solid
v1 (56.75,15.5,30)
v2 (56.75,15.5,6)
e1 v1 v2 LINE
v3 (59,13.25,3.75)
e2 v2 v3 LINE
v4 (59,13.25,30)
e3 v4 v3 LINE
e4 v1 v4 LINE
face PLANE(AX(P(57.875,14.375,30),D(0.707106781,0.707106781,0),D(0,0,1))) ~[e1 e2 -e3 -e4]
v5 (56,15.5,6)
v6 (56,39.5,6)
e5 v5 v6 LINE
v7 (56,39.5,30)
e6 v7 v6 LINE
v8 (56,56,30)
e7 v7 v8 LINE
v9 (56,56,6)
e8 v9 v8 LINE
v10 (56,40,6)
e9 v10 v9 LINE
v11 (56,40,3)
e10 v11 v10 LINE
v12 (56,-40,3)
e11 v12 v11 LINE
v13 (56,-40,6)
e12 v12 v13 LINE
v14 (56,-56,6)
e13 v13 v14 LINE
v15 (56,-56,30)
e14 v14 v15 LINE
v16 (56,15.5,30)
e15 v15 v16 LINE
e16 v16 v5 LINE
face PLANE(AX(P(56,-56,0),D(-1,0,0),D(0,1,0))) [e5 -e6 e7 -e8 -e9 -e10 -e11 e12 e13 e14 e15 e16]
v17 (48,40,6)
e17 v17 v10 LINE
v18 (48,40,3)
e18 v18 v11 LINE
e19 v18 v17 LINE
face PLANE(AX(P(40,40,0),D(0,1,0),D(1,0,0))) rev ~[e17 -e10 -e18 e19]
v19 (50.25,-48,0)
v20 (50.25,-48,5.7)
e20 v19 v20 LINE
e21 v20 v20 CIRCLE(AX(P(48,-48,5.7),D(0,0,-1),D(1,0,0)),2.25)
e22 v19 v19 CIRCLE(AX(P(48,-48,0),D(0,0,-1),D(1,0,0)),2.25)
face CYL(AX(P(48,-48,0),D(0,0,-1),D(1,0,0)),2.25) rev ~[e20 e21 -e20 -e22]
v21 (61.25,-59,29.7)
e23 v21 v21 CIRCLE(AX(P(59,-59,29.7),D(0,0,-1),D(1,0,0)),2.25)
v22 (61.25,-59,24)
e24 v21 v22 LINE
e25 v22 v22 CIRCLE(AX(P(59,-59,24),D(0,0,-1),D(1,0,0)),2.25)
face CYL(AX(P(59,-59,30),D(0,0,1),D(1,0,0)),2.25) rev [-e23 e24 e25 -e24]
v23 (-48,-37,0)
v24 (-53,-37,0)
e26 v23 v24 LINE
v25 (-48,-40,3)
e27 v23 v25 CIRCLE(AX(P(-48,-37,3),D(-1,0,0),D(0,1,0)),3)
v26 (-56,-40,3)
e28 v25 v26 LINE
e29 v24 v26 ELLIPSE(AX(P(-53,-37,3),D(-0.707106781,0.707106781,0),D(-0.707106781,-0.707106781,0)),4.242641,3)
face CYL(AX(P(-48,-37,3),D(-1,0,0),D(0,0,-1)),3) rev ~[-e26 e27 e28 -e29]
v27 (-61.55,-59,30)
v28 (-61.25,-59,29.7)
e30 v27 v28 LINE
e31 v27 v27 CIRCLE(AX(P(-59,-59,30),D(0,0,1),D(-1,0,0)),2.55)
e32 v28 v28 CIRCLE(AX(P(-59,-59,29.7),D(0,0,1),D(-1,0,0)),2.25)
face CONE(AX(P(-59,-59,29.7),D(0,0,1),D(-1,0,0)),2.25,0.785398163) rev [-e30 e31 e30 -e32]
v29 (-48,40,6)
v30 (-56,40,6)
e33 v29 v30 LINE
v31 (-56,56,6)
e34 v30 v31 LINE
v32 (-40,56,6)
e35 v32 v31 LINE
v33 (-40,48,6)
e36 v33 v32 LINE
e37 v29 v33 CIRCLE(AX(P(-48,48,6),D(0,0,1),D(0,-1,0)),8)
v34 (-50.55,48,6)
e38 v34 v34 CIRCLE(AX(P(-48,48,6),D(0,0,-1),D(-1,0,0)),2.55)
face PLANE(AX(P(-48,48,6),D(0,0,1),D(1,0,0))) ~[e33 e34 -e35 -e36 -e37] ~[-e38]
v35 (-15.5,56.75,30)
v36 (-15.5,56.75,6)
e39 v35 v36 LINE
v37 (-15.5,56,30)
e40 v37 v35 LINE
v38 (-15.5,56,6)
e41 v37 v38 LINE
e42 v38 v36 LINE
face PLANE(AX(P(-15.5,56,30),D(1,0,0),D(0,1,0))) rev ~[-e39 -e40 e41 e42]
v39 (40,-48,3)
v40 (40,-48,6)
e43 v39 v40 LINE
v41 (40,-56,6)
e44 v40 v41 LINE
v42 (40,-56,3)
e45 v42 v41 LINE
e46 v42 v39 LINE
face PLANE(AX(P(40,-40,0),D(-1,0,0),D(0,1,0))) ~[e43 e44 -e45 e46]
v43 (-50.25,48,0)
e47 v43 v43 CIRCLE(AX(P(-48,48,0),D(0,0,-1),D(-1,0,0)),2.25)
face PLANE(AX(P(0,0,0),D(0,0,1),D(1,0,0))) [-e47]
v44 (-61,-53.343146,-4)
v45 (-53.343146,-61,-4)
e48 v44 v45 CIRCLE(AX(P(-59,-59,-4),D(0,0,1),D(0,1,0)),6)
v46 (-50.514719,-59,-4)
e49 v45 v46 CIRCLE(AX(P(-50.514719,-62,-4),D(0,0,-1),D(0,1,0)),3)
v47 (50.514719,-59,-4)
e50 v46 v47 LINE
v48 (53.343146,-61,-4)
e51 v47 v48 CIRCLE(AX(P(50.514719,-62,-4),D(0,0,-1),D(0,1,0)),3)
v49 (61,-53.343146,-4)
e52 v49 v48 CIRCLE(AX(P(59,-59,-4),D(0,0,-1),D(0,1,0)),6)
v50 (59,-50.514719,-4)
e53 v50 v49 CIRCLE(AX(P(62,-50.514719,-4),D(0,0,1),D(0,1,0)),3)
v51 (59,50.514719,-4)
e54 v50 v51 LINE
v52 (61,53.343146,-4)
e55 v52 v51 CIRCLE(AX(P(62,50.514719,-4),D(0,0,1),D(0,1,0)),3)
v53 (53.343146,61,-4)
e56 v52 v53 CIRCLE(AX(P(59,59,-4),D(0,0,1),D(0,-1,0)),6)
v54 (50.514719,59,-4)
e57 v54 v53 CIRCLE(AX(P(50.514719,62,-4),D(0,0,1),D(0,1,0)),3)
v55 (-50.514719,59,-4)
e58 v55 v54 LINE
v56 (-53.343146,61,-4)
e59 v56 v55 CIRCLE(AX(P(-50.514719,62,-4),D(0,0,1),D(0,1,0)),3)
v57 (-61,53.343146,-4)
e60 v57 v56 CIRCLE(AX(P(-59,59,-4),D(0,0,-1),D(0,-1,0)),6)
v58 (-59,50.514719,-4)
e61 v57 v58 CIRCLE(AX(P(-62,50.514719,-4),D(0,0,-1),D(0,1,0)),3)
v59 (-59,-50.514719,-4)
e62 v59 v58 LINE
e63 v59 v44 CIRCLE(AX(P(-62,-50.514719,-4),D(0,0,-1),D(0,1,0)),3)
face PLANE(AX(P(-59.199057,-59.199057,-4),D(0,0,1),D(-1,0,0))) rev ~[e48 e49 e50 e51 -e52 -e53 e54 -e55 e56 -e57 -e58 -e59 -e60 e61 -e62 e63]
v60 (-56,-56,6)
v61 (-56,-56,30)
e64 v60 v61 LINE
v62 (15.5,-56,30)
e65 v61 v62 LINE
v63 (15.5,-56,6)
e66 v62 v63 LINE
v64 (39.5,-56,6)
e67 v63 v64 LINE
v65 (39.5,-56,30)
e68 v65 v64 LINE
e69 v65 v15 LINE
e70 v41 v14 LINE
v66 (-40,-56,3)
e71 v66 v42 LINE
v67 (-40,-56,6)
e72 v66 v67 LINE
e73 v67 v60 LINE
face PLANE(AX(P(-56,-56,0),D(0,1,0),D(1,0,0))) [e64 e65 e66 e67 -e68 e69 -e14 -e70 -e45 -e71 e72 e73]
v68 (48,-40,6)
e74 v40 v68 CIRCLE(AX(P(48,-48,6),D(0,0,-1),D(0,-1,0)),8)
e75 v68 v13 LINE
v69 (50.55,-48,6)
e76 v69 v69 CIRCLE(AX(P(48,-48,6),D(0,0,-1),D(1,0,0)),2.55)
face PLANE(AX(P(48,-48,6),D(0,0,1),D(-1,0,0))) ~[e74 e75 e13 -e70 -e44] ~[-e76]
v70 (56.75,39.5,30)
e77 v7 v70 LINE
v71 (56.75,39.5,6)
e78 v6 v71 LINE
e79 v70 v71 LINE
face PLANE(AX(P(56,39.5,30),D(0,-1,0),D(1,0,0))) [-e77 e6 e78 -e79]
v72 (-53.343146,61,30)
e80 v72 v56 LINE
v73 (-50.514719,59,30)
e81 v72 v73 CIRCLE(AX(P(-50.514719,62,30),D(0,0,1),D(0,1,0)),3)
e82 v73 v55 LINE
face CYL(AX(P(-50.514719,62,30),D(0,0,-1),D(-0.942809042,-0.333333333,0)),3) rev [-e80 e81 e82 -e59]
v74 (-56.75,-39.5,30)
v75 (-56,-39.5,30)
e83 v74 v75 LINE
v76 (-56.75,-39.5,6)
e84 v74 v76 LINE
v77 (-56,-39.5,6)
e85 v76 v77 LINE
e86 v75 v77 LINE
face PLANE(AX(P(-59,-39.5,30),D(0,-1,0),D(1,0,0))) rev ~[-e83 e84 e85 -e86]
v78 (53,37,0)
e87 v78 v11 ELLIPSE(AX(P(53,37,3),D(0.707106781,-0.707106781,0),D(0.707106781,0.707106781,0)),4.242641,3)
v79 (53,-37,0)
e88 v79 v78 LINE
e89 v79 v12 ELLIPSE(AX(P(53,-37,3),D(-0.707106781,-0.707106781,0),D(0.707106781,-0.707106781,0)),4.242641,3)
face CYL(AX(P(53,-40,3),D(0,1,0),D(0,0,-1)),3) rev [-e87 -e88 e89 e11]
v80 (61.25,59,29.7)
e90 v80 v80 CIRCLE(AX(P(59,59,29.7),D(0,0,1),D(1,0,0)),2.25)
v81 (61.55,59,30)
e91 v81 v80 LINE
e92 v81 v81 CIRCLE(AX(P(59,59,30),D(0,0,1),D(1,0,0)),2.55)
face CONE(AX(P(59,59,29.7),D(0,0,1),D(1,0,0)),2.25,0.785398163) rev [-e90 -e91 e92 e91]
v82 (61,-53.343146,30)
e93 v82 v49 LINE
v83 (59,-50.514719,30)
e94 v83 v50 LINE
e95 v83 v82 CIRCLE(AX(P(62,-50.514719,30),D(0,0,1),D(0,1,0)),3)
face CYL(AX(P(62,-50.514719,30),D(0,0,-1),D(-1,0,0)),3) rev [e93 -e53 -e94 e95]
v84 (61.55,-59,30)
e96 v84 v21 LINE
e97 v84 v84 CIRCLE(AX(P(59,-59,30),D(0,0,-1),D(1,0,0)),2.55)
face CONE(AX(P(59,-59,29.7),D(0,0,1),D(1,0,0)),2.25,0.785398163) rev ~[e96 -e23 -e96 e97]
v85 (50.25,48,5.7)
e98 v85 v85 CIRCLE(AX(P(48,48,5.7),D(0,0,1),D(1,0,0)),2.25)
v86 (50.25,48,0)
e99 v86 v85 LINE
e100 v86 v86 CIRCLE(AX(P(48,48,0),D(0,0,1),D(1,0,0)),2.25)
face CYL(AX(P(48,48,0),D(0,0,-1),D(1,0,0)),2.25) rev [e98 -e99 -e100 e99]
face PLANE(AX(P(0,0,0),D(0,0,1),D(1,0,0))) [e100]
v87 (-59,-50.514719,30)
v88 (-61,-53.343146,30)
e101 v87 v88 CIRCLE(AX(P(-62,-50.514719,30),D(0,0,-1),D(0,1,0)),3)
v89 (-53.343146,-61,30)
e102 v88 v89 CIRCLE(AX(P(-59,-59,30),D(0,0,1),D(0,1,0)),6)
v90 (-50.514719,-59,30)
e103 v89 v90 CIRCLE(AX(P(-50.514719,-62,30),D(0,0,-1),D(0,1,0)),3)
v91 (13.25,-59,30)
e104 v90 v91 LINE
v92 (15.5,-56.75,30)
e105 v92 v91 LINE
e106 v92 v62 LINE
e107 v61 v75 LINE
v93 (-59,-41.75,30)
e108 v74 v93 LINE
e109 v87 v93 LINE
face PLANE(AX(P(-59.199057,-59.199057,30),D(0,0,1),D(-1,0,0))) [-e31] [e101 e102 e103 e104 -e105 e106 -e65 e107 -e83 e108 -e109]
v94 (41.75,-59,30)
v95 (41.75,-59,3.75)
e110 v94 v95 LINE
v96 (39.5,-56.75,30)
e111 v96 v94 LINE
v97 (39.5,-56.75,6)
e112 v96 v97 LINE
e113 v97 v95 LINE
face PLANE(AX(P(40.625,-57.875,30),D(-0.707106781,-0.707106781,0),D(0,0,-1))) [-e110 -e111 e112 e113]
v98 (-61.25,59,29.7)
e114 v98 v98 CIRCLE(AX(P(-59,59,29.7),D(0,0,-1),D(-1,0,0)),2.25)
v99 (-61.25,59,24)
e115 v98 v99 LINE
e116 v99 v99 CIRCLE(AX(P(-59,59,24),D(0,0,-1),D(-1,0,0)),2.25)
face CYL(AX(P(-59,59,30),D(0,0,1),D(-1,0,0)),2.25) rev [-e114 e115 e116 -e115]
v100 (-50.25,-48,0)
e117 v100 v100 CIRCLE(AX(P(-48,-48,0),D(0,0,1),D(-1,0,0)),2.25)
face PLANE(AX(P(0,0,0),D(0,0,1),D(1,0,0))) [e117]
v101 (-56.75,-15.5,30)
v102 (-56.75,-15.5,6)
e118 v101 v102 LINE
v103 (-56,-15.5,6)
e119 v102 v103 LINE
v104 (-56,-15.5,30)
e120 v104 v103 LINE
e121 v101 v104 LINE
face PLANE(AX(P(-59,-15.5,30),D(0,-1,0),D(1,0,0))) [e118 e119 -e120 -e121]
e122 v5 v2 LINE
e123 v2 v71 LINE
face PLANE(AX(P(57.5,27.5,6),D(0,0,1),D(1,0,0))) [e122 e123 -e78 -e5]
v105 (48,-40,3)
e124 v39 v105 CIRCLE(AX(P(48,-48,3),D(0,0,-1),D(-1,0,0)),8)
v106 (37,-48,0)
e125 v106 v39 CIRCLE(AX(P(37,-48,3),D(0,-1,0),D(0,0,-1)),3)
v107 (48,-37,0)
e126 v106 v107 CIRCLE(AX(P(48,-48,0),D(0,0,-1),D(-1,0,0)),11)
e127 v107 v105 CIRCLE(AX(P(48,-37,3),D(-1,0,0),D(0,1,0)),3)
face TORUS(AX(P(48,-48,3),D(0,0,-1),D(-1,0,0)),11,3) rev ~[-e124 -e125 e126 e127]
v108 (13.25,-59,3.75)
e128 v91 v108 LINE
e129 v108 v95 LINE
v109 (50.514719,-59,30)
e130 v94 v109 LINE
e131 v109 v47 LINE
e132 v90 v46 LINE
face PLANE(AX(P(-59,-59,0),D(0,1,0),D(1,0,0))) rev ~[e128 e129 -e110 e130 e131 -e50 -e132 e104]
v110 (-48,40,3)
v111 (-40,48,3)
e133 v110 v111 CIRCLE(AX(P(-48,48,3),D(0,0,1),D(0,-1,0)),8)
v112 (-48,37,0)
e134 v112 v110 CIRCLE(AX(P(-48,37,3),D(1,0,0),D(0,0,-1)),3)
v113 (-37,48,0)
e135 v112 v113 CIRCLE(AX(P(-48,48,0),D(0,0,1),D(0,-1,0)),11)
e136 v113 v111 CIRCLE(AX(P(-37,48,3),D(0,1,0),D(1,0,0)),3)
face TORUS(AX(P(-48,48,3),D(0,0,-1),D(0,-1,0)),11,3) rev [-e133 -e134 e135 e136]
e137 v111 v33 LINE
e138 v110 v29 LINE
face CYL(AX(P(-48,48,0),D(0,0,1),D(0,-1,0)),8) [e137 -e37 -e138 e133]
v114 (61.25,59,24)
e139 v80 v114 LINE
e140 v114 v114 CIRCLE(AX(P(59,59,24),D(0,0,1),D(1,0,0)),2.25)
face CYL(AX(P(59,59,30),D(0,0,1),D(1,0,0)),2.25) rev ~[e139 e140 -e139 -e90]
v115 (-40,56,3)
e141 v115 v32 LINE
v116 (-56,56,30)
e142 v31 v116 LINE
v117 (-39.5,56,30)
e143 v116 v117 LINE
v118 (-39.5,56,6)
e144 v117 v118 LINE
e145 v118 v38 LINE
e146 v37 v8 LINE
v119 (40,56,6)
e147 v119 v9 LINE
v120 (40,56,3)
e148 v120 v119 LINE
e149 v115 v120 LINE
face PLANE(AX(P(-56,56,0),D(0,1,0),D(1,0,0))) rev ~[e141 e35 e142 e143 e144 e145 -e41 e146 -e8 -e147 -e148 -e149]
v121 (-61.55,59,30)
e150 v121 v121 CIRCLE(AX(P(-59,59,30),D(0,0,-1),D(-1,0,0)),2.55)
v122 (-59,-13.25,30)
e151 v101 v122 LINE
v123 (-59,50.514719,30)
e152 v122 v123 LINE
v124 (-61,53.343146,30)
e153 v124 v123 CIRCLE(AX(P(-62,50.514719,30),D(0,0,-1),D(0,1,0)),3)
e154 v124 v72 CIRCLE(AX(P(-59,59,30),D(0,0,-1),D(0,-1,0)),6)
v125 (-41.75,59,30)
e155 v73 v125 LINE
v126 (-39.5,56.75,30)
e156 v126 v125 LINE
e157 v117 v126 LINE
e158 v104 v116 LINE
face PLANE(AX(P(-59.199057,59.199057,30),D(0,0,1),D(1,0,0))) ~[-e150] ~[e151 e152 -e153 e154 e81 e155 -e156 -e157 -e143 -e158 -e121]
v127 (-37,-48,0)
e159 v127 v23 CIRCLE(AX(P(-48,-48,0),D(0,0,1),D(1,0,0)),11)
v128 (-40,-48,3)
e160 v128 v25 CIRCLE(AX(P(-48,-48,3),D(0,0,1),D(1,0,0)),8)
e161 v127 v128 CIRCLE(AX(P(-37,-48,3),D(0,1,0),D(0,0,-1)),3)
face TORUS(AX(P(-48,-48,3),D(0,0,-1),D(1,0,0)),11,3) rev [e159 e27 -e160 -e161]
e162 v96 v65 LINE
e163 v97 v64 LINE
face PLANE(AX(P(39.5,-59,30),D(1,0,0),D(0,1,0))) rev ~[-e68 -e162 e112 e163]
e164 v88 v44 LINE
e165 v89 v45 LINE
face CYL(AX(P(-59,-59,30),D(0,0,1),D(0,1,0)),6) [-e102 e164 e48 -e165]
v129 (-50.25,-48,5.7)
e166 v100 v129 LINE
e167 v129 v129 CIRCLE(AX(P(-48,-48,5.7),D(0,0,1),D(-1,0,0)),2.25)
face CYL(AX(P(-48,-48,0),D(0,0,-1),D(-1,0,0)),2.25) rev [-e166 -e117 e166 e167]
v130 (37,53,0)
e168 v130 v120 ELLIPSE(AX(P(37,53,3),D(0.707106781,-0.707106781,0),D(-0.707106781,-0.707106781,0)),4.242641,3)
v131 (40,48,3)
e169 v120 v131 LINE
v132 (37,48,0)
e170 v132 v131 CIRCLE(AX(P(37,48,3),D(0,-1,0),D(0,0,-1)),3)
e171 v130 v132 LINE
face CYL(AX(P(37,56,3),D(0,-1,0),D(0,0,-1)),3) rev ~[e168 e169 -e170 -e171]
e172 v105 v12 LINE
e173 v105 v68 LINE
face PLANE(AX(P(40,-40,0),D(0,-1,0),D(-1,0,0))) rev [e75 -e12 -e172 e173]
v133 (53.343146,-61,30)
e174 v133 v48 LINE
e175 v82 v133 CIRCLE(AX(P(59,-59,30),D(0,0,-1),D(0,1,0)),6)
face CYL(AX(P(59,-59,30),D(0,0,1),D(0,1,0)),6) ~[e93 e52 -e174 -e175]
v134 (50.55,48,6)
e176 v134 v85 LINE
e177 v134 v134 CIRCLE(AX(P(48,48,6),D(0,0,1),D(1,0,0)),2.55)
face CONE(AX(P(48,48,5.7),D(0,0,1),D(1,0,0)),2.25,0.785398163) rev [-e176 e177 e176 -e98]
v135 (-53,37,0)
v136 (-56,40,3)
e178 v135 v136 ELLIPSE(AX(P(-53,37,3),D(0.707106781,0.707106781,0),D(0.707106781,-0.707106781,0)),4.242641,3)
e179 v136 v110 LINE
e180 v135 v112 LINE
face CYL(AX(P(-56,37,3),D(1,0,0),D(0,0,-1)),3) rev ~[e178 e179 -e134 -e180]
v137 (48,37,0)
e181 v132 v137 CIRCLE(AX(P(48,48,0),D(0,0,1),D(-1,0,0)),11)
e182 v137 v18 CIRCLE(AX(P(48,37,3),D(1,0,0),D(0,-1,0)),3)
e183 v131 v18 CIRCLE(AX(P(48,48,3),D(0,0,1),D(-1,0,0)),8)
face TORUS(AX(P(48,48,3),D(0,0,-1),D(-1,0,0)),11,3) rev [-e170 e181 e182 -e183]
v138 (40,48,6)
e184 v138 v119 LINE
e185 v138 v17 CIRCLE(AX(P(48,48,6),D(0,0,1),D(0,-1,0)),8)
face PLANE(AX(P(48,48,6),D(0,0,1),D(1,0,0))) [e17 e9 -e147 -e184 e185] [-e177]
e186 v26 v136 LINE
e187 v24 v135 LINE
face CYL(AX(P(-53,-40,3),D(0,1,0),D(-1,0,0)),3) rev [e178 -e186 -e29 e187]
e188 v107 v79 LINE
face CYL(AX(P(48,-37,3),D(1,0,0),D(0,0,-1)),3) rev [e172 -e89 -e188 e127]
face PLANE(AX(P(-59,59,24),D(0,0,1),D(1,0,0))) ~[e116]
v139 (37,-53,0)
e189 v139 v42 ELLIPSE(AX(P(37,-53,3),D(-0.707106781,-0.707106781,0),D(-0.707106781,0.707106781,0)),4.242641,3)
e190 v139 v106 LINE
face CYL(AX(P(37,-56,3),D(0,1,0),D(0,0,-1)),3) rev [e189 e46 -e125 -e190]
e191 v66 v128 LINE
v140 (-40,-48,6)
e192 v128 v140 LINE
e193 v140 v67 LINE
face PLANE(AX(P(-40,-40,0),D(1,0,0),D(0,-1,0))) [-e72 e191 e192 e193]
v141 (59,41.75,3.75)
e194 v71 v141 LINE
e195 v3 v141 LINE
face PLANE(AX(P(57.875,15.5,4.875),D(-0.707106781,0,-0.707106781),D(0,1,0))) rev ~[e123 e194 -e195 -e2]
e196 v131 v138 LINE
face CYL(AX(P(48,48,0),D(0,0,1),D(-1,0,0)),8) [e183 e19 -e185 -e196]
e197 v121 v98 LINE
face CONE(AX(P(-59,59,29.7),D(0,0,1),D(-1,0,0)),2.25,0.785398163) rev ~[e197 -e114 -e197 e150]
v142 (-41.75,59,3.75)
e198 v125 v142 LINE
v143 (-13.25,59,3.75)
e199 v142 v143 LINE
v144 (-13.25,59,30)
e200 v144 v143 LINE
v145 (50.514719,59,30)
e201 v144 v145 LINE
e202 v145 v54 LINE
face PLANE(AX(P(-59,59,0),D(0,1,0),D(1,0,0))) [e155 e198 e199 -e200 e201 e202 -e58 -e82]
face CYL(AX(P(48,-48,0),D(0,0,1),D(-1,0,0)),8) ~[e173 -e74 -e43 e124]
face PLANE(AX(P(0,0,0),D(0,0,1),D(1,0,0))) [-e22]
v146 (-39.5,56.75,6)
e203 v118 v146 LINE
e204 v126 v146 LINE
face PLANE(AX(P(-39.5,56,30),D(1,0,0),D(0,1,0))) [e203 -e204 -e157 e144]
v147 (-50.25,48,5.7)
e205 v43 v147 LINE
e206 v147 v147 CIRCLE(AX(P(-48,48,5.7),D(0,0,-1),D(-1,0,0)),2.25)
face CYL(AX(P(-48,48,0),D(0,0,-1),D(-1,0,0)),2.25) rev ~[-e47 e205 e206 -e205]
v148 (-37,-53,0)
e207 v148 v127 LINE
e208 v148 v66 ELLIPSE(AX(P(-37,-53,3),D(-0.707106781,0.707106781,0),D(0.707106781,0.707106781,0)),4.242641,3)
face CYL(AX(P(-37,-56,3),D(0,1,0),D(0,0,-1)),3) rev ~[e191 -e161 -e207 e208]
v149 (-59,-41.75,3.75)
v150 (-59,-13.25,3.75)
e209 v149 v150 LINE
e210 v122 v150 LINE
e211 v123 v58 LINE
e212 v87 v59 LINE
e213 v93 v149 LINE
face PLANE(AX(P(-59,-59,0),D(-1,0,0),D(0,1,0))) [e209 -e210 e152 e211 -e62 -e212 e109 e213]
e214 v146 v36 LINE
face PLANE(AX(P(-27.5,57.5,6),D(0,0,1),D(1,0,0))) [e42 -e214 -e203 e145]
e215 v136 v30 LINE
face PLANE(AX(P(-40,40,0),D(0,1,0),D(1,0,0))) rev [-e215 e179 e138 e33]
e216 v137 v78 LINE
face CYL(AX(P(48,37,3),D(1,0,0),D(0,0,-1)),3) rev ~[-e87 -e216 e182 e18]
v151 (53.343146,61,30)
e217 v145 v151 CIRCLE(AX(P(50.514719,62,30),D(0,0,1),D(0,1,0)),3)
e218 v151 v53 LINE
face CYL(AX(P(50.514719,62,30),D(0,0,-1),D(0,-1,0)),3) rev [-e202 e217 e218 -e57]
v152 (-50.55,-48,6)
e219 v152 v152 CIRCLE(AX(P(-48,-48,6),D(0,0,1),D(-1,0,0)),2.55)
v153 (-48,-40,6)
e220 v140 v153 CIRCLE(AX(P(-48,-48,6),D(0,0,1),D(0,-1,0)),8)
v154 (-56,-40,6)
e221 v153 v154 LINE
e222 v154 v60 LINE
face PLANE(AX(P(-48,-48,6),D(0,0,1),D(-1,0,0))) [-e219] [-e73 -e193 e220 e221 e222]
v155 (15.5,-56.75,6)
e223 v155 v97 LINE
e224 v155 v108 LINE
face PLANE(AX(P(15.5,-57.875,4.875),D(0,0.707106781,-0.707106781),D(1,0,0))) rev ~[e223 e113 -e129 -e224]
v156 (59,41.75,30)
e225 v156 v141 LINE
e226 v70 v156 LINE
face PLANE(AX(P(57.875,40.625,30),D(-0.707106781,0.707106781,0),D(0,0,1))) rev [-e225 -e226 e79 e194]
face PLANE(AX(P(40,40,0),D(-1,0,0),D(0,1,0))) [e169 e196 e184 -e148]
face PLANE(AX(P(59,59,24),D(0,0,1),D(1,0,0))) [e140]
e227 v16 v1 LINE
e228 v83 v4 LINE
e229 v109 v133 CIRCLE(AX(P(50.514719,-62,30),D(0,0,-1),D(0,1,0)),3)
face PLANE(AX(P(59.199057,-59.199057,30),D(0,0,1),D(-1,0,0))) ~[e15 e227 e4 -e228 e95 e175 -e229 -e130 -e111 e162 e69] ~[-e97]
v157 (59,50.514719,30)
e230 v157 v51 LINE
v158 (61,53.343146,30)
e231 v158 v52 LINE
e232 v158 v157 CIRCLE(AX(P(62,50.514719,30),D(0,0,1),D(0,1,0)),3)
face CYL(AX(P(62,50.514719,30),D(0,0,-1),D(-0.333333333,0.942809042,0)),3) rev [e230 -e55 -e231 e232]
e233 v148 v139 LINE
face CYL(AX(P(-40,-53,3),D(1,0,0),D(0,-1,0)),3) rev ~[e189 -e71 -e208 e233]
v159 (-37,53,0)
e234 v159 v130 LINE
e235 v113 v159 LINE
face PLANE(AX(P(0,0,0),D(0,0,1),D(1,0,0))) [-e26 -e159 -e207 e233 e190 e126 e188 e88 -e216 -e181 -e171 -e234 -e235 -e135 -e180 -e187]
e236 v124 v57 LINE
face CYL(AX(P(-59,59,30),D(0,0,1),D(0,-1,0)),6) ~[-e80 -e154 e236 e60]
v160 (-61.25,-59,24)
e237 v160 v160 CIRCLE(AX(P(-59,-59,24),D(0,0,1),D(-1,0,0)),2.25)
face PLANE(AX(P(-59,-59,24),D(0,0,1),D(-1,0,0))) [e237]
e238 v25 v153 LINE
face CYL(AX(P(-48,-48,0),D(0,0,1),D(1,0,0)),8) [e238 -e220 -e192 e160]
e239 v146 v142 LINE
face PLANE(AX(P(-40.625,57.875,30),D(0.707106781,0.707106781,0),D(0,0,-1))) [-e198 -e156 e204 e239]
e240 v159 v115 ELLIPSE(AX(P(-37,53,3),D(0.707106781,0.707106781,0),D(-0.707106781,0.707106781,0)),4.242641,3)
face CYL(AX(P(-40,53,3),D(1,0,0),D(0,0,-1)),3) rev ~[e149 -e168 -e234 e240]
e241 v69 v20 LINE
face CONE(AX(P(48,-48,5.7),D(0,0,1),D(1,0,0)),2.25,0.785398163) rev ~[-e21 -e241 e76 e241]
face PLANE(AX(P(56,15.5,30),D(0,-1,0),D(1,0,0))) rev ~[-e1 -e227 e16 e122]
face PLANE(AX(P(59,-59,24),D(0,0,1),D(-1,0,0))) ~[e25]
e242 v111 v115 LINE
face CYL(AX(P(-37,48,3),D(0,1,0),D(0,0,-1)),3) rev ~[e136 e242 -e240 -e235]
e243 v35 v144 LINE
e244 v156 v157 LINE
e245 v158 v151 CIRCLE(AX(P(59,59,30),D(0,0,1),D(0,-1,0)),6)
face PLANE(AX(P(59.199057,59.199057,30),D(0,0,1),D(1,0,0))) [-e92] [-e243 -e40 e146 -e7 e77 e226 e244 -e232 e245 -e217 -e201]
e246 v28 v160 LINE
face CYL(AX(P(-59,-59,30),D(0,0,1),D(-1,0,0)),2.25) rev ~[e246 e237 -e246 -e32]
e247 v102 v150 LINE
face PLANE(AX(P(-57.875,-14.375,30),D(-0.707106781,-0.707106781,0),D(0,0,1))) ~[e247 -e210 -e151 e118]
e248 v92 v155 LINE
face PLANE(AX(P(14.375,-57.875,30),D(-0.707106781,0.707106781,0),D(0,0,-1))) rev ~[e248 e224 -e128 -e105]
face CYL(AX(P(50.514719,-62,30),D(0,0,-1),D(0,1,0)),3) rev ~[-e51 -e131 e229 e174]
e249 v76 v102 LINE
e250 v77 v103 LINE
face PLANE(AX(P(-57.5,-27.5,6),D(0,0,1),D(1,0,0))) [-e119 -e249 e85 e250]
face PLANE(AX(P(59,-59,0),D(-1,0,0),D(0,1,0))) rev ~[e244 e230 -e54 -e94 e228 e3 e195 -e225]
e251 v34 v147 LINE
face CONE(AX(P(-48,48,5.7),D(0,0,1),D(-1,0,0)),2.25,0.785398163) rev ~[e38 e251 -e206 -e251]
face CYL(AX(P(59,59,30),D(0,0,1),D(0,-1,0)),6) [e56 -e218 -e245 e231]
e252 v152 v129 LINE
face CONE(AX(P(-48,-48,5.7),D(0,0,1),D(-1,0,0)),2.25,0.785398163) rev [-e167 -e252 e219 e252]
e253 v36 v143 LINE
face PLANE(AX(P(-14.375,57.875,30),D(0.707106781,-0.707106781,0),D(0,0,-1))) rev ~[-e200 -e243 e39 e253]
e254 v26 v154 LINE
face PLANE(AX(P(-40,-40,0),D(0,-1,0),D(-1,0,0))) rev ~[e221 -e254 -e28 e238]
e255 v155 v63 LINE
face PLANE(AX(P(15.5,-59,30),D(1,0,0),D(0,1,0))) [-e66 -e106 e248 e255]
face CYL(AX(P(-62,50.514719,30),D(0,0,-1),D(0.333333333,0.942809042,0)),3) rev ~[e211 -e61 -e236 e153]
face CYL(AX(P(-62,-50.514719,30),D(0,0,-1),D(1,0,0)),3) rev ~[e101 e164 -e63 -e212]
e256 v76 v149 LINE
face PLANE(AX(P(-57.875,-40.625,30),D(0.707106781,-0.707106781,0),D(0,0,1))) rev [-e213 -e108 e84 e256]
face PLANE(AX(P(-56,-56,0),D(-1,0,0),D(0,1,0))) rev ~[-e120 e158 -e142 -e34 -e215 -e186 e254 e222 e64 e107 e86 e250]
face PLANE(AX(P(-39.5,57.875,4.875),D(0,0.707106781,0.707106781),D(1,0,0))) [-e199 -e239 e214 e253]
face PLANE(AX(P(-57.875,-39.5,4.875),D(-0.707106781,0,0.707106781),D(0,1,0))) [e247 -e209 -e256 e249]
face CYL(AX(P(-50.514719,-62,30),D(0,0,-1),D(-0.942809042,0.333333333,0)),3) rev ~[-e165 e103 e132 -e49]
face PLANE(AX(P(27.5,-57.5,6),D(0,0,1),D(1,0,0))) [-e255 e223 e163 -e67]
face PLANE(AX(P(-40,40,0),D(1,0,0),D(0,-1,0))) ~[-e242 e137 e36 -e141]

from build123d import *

# Parameters (mm, degrees)
SKETCH1_W                                  = 118
SKETCH1_H                                  = 118
BOSS_EXTRUDE1_DEPTH                        = 4
SKETCH2_W                                  = 118
SKETCH2_H                                  = 118
SKETCH2_W_2                                = 112
SKETCH2_H_2                                = 112
BOSS_EXTRUDE2_DEPTH                        = 30
SKETCH3_W                                  = 16
SKETCH3_H                                  = 16
SKETCH3_R                                  = 2.25
BOSS_EXTRUDE3_DEPTH                        = 6
MIRROR1_AT_THE_SECOND_PLANE_COPY_1_SKETC_W = 16
MIRROR1_AT_THE_SECOND_PLANE_COPY_1_SKETC_H = 16
MIRROR1_AT_THE_SECOND_PLANE_COPY_1_SKETC_R = 2.25
MIRROR1_AT_THE_SECOND_PLANE_COPY_1_DEPTH   = 6
CHAMFER1_SIZE                              = 0.3
FILLET1_R                                  = 8
SKETCH7_W                                  = 3
SKETCH7_H                                  = 24
SKETCH7_W_2                                = 24
SKETCH7_H_2                                = 3
CUT_EXTRUDE1_DEPTH                         = 24
CHAMFER3_SIZE                              = 2.25
BOSS_EXTRUDE4_DEPTH                        = 34
SKETCH9_R                                  = 2.25
CUT_EXTRUDE2_DEPTH                         = 6
MIRROR2_AT_THE_SECOND_PLANE_COPY_1_DEPTH   = 34
MIRROR2_AT_THE_SECOND_PLANE_COPY_2_SKETC_R = 2.25
MIRROR2_AT_THE_SECOND_PLANE_COPY_2_DEPTH   = 6
CHAMFER2_SIZE                              = 0.3
FILLET2_R                                  = 3
FILLET3_R                                  = 3


with BuildPart() as part:
    # Sketch1 → Boss-Extrude1 (new body)
    with BuildSketch(Plane.XY):
        Rectangle(SKETCH1_W, SKETCH1_H)
    extrude(amount=-BOSS_EXTRUDE1_DEPTH)

    # Sketch2 → Boss-Extrude2 (add)
    with BuildSketch(Plane.XY):
        Rectangle(SKETCH2_W, SKETCH2_H)
        Rectangle(SKETCH2_W_2, SKETCH2_H_2, mode=Mode.SUBTRACT)
    extrude(amount=BOSS_EXTRUDE2_DEPTH)

    # Sketch3 → Boss-Extrude3 (add)
    with BuildSketch(Plane.XY):
        with Locations((48, 48)):
            Rectangle(SKETCH3_W, SKETCH3_H)
        with Locations((48, 48)):
            Circle(SKETCH3_R, mode=Mode.SUBTRACT)
    boss_extrude3 = extrude(amount=BOSS_EXTRUDE3_DEPTH)

    # Mirror1: Boss-Extrude3 across plane
    add(boss_extrude3.mirror(Plane(origin=(0, 0, 0), x_dir=(0, 0, 1), z_dir=(1, 0, 0))))

    # Mirror1 at the second plane: Boss-Extrude3 across plane
    add(boss_extrude3.mirror(Plane.ZX))

    # Mirror1 at the second plane copy 1 sketc → Mirror1 at the second plane copy 1 (add)
    with BuildSketch(Plane(origin=(0, 0, 0), x_dir=(-1, 0, 0), z_dir=(0, 0, 1))):
        with Locations((48, 48)):
            Rectangle(MIRROR1_AT_THE_SECOND_PLANE_COPY_1_SKETC_W, MIRROR1_AT_THE_SECOND_PLANE_COPY_1_SKETC_H)
        with Locations((48, 48)):
            Circle(MIRROR1_AT_THE_SECOND_PLANE_COPY_1_SKETC_R, mode=Mode.SUBTRACT)
    extrude(amount=MIRROR1_AT_THE_SECOND_PLANE_COPY_1_DEPTH)

    # Chamfer1
    chamfer1_edges = [part.edges().sort_by_distance(p)[0] for p in [
        (45.75, 48, 6),
        (45.75, -48, 6),
        (-45.75, 48, 6),
        (-45.75, -48, 6),
    ]]
    chamfer(chamfer1_edges, length=CHAMFER1_SIZE)

    # Fillet1
    fillet1_edges = [part.edges().sort_by_distance(p)[0] for p in [
        (40, 40, 3),
        (40, -40, 3),
        (-40, 40, 3),
        (-40, -40, 3),
    ]]
    fillet(fillet1_edges, radius=FILLET1_R)

    # Sketch7 → Cut-Extrude1 (cut)
    with BuildSketch(Plane.XY.offset(30)):
        with Locations((57.5, 27.5)):
            Rectangle(SKETCH7_W, SKETCH7_H)
        with Locations((-27.5, 57.5)):
            Rectangle(SKETCH7_W_2, SKETCH7_H_2)
        with Locations((-57.5, -27.5)):
            Rectangle(SKETCH7_W, SKETCH7_H)
        with Locations((27.5, -57.5)):
            Rectangle(SKETCH7_W_2, SKETCH7_H_2)
    extrude(amount=-CUT_EXTRUDE1_DEPTH, mode=Mode.SUBTRACT)

    # Chamfer3
    chamfer3_edges = [part.edges().sort_by_distance(p)[0] for p in [
        (59, 27.5, 6),
        (59, 39.5, 18),
        (59, 15.5, 18),
        (-27.5, 59, 6),
        (-39.5, 59, 18),
        (-15.5, 59, 18),
        (-59, -27.5, 6),
        (-59, -39.5, 18),
        (-59, -15.5, 18),
        (15.5, -59, 18),
        (27.5, -59, 6),
        (39.5, -59, 18),
    ]]
    chamfer(chamfer3_edges, length=CHAMFER3_SIZE)

    # Sketch8 → Boss-Extrude4 (add)
    with BuildSketch(Plane.XY.offset(30)):
        with BuildLine():
            Line((53, 59), (59, 59))
            Line((59, 59), (59, 53))
            ThreePointArc((59, 53), (63.242640687, 63.242640687), (53, 59))
        make_face()
    boss_extrude4 = extrude(amount=-BOSS_EXTRUDE4_DEPTH)

    # Sketch9 → Cut-Extrude2 (cut)
    with BuildSketch(Plane.XY.offset(30)):
        with Locations((59, 59)):
            Circle(SKETCH9_R)
    cut_extrude2 = extrude(amount=-CUT_EXTRUDE2_DEPTH, mode=Mode.SUBTRACT)

    # Mirror2: Boss-Extrude4, Cut-Extrude2 across plane
    add(boss_extrude4.mirror(Plane(origin=(0, 0, 0), x_dir=(0, 0, 1), z_dir=(1, 0, 0))))
    add(cut_extrude2.mirror(Plane(origin=(0, 0, 0), x_dir=(0, 0, 1), z_dir=(1, 0, 0))), mode=Mode.SUBTRACT)

    # Mirror2 at the second plane: Boss-Extrude4, Cut-Extrude2 across plane
    add(boss_extrude4.mirror(Plane.ZX))
    add(cut_extrude2.mirror(Plane.ZX), mode=Mode.SUBTRACT)

    # Mirror2 at the second plane copy 1 sketc → Mirror2 at the second plane copy 1 (add)
    with BuildSketch(Plane(origin=(0, 0, 30), x_dir=(-1, 0, 0), z_dir=(0, 0, 1))):
        with BuildLine():
            Line((53, 59), (59, 59))
            Line((59, 59), (59, 53))
            ThreePointArc((59, 53), (63.242640687, 63.242640687), (53, 59))
        make_face()
    extrude(amount=-MIRROR2_AT_THE_SECOND_PLANE_COPY_1_DEPTH)

    # Mirror2 at the second plane copy 2 sketc → Mirror2 at the second plane copy 2 (cut)
    with BuildSketch(Plane(origin=(0, 0, 30), x_dir=(-1, 0, 0), z_dir=(0, 0, 1))):
        with Locations((59, 59)):
            Circle(MIRROR2_AT_THE_SECOND_PLANE_COPY_2_SKETC_R)
    extrude(amount=-MIRROR2_AT_THE_SECOND_PLANE_COPY_2_DEPTH, mode=Mode.SUBTRACT)

    # Chamfer2
    chamfer2_edges = [part.edges().sort_by_distance(p)[0] for p in [
        (56.75, 59, 30),
        (56.75, -59, 30),
        (-56.75, 59, 30),
        (-56.75, -59, 30),
    ]]
    chamfer(chamfer2_edges, length=CHAMFER2_SIZE)

    # Fillet2
    fillet2_edges = [part.edges().sort_by_distance(p)[0] for p in [
        (-42.343145751, 42.343145751, 0),
        (-42.343145751, -42.343145751, 0),
        (42.343145751, -42.343145751, 0),
        (42.343145751, 42.343145751, 0),
        (0, 56, 0),
        (40, 52, 0),
        (52, 40, 0),
        (56, 0, 0),
        (52, -40, 0),
        (40, -52, 0),
        (-56, 0, 0),
        (-52, 40, 0),
        (-40, 52, 0),
        (0, -56, 0),
        (-40, -52, 0),
        (-52, -40, 0),
    ]]
    fillet(fillet2_edges, radius=FILLET2_R)

    # Fillet3
    fillet3_edges = [part.edges().sort_by_distance(p)[0] for p in [
        (53, 59, 13),
        (59, 53, 13),
        (59, -53, 13),
        (53, -59, 13),
        (-59, 53, 13),
        (-53, 59, 13),
        (-53, -59, 13),
        (-59, -53, 13),
    ]]
    fillet(fillet3_edges, radius=FILLET3_R)


solid = part.part
